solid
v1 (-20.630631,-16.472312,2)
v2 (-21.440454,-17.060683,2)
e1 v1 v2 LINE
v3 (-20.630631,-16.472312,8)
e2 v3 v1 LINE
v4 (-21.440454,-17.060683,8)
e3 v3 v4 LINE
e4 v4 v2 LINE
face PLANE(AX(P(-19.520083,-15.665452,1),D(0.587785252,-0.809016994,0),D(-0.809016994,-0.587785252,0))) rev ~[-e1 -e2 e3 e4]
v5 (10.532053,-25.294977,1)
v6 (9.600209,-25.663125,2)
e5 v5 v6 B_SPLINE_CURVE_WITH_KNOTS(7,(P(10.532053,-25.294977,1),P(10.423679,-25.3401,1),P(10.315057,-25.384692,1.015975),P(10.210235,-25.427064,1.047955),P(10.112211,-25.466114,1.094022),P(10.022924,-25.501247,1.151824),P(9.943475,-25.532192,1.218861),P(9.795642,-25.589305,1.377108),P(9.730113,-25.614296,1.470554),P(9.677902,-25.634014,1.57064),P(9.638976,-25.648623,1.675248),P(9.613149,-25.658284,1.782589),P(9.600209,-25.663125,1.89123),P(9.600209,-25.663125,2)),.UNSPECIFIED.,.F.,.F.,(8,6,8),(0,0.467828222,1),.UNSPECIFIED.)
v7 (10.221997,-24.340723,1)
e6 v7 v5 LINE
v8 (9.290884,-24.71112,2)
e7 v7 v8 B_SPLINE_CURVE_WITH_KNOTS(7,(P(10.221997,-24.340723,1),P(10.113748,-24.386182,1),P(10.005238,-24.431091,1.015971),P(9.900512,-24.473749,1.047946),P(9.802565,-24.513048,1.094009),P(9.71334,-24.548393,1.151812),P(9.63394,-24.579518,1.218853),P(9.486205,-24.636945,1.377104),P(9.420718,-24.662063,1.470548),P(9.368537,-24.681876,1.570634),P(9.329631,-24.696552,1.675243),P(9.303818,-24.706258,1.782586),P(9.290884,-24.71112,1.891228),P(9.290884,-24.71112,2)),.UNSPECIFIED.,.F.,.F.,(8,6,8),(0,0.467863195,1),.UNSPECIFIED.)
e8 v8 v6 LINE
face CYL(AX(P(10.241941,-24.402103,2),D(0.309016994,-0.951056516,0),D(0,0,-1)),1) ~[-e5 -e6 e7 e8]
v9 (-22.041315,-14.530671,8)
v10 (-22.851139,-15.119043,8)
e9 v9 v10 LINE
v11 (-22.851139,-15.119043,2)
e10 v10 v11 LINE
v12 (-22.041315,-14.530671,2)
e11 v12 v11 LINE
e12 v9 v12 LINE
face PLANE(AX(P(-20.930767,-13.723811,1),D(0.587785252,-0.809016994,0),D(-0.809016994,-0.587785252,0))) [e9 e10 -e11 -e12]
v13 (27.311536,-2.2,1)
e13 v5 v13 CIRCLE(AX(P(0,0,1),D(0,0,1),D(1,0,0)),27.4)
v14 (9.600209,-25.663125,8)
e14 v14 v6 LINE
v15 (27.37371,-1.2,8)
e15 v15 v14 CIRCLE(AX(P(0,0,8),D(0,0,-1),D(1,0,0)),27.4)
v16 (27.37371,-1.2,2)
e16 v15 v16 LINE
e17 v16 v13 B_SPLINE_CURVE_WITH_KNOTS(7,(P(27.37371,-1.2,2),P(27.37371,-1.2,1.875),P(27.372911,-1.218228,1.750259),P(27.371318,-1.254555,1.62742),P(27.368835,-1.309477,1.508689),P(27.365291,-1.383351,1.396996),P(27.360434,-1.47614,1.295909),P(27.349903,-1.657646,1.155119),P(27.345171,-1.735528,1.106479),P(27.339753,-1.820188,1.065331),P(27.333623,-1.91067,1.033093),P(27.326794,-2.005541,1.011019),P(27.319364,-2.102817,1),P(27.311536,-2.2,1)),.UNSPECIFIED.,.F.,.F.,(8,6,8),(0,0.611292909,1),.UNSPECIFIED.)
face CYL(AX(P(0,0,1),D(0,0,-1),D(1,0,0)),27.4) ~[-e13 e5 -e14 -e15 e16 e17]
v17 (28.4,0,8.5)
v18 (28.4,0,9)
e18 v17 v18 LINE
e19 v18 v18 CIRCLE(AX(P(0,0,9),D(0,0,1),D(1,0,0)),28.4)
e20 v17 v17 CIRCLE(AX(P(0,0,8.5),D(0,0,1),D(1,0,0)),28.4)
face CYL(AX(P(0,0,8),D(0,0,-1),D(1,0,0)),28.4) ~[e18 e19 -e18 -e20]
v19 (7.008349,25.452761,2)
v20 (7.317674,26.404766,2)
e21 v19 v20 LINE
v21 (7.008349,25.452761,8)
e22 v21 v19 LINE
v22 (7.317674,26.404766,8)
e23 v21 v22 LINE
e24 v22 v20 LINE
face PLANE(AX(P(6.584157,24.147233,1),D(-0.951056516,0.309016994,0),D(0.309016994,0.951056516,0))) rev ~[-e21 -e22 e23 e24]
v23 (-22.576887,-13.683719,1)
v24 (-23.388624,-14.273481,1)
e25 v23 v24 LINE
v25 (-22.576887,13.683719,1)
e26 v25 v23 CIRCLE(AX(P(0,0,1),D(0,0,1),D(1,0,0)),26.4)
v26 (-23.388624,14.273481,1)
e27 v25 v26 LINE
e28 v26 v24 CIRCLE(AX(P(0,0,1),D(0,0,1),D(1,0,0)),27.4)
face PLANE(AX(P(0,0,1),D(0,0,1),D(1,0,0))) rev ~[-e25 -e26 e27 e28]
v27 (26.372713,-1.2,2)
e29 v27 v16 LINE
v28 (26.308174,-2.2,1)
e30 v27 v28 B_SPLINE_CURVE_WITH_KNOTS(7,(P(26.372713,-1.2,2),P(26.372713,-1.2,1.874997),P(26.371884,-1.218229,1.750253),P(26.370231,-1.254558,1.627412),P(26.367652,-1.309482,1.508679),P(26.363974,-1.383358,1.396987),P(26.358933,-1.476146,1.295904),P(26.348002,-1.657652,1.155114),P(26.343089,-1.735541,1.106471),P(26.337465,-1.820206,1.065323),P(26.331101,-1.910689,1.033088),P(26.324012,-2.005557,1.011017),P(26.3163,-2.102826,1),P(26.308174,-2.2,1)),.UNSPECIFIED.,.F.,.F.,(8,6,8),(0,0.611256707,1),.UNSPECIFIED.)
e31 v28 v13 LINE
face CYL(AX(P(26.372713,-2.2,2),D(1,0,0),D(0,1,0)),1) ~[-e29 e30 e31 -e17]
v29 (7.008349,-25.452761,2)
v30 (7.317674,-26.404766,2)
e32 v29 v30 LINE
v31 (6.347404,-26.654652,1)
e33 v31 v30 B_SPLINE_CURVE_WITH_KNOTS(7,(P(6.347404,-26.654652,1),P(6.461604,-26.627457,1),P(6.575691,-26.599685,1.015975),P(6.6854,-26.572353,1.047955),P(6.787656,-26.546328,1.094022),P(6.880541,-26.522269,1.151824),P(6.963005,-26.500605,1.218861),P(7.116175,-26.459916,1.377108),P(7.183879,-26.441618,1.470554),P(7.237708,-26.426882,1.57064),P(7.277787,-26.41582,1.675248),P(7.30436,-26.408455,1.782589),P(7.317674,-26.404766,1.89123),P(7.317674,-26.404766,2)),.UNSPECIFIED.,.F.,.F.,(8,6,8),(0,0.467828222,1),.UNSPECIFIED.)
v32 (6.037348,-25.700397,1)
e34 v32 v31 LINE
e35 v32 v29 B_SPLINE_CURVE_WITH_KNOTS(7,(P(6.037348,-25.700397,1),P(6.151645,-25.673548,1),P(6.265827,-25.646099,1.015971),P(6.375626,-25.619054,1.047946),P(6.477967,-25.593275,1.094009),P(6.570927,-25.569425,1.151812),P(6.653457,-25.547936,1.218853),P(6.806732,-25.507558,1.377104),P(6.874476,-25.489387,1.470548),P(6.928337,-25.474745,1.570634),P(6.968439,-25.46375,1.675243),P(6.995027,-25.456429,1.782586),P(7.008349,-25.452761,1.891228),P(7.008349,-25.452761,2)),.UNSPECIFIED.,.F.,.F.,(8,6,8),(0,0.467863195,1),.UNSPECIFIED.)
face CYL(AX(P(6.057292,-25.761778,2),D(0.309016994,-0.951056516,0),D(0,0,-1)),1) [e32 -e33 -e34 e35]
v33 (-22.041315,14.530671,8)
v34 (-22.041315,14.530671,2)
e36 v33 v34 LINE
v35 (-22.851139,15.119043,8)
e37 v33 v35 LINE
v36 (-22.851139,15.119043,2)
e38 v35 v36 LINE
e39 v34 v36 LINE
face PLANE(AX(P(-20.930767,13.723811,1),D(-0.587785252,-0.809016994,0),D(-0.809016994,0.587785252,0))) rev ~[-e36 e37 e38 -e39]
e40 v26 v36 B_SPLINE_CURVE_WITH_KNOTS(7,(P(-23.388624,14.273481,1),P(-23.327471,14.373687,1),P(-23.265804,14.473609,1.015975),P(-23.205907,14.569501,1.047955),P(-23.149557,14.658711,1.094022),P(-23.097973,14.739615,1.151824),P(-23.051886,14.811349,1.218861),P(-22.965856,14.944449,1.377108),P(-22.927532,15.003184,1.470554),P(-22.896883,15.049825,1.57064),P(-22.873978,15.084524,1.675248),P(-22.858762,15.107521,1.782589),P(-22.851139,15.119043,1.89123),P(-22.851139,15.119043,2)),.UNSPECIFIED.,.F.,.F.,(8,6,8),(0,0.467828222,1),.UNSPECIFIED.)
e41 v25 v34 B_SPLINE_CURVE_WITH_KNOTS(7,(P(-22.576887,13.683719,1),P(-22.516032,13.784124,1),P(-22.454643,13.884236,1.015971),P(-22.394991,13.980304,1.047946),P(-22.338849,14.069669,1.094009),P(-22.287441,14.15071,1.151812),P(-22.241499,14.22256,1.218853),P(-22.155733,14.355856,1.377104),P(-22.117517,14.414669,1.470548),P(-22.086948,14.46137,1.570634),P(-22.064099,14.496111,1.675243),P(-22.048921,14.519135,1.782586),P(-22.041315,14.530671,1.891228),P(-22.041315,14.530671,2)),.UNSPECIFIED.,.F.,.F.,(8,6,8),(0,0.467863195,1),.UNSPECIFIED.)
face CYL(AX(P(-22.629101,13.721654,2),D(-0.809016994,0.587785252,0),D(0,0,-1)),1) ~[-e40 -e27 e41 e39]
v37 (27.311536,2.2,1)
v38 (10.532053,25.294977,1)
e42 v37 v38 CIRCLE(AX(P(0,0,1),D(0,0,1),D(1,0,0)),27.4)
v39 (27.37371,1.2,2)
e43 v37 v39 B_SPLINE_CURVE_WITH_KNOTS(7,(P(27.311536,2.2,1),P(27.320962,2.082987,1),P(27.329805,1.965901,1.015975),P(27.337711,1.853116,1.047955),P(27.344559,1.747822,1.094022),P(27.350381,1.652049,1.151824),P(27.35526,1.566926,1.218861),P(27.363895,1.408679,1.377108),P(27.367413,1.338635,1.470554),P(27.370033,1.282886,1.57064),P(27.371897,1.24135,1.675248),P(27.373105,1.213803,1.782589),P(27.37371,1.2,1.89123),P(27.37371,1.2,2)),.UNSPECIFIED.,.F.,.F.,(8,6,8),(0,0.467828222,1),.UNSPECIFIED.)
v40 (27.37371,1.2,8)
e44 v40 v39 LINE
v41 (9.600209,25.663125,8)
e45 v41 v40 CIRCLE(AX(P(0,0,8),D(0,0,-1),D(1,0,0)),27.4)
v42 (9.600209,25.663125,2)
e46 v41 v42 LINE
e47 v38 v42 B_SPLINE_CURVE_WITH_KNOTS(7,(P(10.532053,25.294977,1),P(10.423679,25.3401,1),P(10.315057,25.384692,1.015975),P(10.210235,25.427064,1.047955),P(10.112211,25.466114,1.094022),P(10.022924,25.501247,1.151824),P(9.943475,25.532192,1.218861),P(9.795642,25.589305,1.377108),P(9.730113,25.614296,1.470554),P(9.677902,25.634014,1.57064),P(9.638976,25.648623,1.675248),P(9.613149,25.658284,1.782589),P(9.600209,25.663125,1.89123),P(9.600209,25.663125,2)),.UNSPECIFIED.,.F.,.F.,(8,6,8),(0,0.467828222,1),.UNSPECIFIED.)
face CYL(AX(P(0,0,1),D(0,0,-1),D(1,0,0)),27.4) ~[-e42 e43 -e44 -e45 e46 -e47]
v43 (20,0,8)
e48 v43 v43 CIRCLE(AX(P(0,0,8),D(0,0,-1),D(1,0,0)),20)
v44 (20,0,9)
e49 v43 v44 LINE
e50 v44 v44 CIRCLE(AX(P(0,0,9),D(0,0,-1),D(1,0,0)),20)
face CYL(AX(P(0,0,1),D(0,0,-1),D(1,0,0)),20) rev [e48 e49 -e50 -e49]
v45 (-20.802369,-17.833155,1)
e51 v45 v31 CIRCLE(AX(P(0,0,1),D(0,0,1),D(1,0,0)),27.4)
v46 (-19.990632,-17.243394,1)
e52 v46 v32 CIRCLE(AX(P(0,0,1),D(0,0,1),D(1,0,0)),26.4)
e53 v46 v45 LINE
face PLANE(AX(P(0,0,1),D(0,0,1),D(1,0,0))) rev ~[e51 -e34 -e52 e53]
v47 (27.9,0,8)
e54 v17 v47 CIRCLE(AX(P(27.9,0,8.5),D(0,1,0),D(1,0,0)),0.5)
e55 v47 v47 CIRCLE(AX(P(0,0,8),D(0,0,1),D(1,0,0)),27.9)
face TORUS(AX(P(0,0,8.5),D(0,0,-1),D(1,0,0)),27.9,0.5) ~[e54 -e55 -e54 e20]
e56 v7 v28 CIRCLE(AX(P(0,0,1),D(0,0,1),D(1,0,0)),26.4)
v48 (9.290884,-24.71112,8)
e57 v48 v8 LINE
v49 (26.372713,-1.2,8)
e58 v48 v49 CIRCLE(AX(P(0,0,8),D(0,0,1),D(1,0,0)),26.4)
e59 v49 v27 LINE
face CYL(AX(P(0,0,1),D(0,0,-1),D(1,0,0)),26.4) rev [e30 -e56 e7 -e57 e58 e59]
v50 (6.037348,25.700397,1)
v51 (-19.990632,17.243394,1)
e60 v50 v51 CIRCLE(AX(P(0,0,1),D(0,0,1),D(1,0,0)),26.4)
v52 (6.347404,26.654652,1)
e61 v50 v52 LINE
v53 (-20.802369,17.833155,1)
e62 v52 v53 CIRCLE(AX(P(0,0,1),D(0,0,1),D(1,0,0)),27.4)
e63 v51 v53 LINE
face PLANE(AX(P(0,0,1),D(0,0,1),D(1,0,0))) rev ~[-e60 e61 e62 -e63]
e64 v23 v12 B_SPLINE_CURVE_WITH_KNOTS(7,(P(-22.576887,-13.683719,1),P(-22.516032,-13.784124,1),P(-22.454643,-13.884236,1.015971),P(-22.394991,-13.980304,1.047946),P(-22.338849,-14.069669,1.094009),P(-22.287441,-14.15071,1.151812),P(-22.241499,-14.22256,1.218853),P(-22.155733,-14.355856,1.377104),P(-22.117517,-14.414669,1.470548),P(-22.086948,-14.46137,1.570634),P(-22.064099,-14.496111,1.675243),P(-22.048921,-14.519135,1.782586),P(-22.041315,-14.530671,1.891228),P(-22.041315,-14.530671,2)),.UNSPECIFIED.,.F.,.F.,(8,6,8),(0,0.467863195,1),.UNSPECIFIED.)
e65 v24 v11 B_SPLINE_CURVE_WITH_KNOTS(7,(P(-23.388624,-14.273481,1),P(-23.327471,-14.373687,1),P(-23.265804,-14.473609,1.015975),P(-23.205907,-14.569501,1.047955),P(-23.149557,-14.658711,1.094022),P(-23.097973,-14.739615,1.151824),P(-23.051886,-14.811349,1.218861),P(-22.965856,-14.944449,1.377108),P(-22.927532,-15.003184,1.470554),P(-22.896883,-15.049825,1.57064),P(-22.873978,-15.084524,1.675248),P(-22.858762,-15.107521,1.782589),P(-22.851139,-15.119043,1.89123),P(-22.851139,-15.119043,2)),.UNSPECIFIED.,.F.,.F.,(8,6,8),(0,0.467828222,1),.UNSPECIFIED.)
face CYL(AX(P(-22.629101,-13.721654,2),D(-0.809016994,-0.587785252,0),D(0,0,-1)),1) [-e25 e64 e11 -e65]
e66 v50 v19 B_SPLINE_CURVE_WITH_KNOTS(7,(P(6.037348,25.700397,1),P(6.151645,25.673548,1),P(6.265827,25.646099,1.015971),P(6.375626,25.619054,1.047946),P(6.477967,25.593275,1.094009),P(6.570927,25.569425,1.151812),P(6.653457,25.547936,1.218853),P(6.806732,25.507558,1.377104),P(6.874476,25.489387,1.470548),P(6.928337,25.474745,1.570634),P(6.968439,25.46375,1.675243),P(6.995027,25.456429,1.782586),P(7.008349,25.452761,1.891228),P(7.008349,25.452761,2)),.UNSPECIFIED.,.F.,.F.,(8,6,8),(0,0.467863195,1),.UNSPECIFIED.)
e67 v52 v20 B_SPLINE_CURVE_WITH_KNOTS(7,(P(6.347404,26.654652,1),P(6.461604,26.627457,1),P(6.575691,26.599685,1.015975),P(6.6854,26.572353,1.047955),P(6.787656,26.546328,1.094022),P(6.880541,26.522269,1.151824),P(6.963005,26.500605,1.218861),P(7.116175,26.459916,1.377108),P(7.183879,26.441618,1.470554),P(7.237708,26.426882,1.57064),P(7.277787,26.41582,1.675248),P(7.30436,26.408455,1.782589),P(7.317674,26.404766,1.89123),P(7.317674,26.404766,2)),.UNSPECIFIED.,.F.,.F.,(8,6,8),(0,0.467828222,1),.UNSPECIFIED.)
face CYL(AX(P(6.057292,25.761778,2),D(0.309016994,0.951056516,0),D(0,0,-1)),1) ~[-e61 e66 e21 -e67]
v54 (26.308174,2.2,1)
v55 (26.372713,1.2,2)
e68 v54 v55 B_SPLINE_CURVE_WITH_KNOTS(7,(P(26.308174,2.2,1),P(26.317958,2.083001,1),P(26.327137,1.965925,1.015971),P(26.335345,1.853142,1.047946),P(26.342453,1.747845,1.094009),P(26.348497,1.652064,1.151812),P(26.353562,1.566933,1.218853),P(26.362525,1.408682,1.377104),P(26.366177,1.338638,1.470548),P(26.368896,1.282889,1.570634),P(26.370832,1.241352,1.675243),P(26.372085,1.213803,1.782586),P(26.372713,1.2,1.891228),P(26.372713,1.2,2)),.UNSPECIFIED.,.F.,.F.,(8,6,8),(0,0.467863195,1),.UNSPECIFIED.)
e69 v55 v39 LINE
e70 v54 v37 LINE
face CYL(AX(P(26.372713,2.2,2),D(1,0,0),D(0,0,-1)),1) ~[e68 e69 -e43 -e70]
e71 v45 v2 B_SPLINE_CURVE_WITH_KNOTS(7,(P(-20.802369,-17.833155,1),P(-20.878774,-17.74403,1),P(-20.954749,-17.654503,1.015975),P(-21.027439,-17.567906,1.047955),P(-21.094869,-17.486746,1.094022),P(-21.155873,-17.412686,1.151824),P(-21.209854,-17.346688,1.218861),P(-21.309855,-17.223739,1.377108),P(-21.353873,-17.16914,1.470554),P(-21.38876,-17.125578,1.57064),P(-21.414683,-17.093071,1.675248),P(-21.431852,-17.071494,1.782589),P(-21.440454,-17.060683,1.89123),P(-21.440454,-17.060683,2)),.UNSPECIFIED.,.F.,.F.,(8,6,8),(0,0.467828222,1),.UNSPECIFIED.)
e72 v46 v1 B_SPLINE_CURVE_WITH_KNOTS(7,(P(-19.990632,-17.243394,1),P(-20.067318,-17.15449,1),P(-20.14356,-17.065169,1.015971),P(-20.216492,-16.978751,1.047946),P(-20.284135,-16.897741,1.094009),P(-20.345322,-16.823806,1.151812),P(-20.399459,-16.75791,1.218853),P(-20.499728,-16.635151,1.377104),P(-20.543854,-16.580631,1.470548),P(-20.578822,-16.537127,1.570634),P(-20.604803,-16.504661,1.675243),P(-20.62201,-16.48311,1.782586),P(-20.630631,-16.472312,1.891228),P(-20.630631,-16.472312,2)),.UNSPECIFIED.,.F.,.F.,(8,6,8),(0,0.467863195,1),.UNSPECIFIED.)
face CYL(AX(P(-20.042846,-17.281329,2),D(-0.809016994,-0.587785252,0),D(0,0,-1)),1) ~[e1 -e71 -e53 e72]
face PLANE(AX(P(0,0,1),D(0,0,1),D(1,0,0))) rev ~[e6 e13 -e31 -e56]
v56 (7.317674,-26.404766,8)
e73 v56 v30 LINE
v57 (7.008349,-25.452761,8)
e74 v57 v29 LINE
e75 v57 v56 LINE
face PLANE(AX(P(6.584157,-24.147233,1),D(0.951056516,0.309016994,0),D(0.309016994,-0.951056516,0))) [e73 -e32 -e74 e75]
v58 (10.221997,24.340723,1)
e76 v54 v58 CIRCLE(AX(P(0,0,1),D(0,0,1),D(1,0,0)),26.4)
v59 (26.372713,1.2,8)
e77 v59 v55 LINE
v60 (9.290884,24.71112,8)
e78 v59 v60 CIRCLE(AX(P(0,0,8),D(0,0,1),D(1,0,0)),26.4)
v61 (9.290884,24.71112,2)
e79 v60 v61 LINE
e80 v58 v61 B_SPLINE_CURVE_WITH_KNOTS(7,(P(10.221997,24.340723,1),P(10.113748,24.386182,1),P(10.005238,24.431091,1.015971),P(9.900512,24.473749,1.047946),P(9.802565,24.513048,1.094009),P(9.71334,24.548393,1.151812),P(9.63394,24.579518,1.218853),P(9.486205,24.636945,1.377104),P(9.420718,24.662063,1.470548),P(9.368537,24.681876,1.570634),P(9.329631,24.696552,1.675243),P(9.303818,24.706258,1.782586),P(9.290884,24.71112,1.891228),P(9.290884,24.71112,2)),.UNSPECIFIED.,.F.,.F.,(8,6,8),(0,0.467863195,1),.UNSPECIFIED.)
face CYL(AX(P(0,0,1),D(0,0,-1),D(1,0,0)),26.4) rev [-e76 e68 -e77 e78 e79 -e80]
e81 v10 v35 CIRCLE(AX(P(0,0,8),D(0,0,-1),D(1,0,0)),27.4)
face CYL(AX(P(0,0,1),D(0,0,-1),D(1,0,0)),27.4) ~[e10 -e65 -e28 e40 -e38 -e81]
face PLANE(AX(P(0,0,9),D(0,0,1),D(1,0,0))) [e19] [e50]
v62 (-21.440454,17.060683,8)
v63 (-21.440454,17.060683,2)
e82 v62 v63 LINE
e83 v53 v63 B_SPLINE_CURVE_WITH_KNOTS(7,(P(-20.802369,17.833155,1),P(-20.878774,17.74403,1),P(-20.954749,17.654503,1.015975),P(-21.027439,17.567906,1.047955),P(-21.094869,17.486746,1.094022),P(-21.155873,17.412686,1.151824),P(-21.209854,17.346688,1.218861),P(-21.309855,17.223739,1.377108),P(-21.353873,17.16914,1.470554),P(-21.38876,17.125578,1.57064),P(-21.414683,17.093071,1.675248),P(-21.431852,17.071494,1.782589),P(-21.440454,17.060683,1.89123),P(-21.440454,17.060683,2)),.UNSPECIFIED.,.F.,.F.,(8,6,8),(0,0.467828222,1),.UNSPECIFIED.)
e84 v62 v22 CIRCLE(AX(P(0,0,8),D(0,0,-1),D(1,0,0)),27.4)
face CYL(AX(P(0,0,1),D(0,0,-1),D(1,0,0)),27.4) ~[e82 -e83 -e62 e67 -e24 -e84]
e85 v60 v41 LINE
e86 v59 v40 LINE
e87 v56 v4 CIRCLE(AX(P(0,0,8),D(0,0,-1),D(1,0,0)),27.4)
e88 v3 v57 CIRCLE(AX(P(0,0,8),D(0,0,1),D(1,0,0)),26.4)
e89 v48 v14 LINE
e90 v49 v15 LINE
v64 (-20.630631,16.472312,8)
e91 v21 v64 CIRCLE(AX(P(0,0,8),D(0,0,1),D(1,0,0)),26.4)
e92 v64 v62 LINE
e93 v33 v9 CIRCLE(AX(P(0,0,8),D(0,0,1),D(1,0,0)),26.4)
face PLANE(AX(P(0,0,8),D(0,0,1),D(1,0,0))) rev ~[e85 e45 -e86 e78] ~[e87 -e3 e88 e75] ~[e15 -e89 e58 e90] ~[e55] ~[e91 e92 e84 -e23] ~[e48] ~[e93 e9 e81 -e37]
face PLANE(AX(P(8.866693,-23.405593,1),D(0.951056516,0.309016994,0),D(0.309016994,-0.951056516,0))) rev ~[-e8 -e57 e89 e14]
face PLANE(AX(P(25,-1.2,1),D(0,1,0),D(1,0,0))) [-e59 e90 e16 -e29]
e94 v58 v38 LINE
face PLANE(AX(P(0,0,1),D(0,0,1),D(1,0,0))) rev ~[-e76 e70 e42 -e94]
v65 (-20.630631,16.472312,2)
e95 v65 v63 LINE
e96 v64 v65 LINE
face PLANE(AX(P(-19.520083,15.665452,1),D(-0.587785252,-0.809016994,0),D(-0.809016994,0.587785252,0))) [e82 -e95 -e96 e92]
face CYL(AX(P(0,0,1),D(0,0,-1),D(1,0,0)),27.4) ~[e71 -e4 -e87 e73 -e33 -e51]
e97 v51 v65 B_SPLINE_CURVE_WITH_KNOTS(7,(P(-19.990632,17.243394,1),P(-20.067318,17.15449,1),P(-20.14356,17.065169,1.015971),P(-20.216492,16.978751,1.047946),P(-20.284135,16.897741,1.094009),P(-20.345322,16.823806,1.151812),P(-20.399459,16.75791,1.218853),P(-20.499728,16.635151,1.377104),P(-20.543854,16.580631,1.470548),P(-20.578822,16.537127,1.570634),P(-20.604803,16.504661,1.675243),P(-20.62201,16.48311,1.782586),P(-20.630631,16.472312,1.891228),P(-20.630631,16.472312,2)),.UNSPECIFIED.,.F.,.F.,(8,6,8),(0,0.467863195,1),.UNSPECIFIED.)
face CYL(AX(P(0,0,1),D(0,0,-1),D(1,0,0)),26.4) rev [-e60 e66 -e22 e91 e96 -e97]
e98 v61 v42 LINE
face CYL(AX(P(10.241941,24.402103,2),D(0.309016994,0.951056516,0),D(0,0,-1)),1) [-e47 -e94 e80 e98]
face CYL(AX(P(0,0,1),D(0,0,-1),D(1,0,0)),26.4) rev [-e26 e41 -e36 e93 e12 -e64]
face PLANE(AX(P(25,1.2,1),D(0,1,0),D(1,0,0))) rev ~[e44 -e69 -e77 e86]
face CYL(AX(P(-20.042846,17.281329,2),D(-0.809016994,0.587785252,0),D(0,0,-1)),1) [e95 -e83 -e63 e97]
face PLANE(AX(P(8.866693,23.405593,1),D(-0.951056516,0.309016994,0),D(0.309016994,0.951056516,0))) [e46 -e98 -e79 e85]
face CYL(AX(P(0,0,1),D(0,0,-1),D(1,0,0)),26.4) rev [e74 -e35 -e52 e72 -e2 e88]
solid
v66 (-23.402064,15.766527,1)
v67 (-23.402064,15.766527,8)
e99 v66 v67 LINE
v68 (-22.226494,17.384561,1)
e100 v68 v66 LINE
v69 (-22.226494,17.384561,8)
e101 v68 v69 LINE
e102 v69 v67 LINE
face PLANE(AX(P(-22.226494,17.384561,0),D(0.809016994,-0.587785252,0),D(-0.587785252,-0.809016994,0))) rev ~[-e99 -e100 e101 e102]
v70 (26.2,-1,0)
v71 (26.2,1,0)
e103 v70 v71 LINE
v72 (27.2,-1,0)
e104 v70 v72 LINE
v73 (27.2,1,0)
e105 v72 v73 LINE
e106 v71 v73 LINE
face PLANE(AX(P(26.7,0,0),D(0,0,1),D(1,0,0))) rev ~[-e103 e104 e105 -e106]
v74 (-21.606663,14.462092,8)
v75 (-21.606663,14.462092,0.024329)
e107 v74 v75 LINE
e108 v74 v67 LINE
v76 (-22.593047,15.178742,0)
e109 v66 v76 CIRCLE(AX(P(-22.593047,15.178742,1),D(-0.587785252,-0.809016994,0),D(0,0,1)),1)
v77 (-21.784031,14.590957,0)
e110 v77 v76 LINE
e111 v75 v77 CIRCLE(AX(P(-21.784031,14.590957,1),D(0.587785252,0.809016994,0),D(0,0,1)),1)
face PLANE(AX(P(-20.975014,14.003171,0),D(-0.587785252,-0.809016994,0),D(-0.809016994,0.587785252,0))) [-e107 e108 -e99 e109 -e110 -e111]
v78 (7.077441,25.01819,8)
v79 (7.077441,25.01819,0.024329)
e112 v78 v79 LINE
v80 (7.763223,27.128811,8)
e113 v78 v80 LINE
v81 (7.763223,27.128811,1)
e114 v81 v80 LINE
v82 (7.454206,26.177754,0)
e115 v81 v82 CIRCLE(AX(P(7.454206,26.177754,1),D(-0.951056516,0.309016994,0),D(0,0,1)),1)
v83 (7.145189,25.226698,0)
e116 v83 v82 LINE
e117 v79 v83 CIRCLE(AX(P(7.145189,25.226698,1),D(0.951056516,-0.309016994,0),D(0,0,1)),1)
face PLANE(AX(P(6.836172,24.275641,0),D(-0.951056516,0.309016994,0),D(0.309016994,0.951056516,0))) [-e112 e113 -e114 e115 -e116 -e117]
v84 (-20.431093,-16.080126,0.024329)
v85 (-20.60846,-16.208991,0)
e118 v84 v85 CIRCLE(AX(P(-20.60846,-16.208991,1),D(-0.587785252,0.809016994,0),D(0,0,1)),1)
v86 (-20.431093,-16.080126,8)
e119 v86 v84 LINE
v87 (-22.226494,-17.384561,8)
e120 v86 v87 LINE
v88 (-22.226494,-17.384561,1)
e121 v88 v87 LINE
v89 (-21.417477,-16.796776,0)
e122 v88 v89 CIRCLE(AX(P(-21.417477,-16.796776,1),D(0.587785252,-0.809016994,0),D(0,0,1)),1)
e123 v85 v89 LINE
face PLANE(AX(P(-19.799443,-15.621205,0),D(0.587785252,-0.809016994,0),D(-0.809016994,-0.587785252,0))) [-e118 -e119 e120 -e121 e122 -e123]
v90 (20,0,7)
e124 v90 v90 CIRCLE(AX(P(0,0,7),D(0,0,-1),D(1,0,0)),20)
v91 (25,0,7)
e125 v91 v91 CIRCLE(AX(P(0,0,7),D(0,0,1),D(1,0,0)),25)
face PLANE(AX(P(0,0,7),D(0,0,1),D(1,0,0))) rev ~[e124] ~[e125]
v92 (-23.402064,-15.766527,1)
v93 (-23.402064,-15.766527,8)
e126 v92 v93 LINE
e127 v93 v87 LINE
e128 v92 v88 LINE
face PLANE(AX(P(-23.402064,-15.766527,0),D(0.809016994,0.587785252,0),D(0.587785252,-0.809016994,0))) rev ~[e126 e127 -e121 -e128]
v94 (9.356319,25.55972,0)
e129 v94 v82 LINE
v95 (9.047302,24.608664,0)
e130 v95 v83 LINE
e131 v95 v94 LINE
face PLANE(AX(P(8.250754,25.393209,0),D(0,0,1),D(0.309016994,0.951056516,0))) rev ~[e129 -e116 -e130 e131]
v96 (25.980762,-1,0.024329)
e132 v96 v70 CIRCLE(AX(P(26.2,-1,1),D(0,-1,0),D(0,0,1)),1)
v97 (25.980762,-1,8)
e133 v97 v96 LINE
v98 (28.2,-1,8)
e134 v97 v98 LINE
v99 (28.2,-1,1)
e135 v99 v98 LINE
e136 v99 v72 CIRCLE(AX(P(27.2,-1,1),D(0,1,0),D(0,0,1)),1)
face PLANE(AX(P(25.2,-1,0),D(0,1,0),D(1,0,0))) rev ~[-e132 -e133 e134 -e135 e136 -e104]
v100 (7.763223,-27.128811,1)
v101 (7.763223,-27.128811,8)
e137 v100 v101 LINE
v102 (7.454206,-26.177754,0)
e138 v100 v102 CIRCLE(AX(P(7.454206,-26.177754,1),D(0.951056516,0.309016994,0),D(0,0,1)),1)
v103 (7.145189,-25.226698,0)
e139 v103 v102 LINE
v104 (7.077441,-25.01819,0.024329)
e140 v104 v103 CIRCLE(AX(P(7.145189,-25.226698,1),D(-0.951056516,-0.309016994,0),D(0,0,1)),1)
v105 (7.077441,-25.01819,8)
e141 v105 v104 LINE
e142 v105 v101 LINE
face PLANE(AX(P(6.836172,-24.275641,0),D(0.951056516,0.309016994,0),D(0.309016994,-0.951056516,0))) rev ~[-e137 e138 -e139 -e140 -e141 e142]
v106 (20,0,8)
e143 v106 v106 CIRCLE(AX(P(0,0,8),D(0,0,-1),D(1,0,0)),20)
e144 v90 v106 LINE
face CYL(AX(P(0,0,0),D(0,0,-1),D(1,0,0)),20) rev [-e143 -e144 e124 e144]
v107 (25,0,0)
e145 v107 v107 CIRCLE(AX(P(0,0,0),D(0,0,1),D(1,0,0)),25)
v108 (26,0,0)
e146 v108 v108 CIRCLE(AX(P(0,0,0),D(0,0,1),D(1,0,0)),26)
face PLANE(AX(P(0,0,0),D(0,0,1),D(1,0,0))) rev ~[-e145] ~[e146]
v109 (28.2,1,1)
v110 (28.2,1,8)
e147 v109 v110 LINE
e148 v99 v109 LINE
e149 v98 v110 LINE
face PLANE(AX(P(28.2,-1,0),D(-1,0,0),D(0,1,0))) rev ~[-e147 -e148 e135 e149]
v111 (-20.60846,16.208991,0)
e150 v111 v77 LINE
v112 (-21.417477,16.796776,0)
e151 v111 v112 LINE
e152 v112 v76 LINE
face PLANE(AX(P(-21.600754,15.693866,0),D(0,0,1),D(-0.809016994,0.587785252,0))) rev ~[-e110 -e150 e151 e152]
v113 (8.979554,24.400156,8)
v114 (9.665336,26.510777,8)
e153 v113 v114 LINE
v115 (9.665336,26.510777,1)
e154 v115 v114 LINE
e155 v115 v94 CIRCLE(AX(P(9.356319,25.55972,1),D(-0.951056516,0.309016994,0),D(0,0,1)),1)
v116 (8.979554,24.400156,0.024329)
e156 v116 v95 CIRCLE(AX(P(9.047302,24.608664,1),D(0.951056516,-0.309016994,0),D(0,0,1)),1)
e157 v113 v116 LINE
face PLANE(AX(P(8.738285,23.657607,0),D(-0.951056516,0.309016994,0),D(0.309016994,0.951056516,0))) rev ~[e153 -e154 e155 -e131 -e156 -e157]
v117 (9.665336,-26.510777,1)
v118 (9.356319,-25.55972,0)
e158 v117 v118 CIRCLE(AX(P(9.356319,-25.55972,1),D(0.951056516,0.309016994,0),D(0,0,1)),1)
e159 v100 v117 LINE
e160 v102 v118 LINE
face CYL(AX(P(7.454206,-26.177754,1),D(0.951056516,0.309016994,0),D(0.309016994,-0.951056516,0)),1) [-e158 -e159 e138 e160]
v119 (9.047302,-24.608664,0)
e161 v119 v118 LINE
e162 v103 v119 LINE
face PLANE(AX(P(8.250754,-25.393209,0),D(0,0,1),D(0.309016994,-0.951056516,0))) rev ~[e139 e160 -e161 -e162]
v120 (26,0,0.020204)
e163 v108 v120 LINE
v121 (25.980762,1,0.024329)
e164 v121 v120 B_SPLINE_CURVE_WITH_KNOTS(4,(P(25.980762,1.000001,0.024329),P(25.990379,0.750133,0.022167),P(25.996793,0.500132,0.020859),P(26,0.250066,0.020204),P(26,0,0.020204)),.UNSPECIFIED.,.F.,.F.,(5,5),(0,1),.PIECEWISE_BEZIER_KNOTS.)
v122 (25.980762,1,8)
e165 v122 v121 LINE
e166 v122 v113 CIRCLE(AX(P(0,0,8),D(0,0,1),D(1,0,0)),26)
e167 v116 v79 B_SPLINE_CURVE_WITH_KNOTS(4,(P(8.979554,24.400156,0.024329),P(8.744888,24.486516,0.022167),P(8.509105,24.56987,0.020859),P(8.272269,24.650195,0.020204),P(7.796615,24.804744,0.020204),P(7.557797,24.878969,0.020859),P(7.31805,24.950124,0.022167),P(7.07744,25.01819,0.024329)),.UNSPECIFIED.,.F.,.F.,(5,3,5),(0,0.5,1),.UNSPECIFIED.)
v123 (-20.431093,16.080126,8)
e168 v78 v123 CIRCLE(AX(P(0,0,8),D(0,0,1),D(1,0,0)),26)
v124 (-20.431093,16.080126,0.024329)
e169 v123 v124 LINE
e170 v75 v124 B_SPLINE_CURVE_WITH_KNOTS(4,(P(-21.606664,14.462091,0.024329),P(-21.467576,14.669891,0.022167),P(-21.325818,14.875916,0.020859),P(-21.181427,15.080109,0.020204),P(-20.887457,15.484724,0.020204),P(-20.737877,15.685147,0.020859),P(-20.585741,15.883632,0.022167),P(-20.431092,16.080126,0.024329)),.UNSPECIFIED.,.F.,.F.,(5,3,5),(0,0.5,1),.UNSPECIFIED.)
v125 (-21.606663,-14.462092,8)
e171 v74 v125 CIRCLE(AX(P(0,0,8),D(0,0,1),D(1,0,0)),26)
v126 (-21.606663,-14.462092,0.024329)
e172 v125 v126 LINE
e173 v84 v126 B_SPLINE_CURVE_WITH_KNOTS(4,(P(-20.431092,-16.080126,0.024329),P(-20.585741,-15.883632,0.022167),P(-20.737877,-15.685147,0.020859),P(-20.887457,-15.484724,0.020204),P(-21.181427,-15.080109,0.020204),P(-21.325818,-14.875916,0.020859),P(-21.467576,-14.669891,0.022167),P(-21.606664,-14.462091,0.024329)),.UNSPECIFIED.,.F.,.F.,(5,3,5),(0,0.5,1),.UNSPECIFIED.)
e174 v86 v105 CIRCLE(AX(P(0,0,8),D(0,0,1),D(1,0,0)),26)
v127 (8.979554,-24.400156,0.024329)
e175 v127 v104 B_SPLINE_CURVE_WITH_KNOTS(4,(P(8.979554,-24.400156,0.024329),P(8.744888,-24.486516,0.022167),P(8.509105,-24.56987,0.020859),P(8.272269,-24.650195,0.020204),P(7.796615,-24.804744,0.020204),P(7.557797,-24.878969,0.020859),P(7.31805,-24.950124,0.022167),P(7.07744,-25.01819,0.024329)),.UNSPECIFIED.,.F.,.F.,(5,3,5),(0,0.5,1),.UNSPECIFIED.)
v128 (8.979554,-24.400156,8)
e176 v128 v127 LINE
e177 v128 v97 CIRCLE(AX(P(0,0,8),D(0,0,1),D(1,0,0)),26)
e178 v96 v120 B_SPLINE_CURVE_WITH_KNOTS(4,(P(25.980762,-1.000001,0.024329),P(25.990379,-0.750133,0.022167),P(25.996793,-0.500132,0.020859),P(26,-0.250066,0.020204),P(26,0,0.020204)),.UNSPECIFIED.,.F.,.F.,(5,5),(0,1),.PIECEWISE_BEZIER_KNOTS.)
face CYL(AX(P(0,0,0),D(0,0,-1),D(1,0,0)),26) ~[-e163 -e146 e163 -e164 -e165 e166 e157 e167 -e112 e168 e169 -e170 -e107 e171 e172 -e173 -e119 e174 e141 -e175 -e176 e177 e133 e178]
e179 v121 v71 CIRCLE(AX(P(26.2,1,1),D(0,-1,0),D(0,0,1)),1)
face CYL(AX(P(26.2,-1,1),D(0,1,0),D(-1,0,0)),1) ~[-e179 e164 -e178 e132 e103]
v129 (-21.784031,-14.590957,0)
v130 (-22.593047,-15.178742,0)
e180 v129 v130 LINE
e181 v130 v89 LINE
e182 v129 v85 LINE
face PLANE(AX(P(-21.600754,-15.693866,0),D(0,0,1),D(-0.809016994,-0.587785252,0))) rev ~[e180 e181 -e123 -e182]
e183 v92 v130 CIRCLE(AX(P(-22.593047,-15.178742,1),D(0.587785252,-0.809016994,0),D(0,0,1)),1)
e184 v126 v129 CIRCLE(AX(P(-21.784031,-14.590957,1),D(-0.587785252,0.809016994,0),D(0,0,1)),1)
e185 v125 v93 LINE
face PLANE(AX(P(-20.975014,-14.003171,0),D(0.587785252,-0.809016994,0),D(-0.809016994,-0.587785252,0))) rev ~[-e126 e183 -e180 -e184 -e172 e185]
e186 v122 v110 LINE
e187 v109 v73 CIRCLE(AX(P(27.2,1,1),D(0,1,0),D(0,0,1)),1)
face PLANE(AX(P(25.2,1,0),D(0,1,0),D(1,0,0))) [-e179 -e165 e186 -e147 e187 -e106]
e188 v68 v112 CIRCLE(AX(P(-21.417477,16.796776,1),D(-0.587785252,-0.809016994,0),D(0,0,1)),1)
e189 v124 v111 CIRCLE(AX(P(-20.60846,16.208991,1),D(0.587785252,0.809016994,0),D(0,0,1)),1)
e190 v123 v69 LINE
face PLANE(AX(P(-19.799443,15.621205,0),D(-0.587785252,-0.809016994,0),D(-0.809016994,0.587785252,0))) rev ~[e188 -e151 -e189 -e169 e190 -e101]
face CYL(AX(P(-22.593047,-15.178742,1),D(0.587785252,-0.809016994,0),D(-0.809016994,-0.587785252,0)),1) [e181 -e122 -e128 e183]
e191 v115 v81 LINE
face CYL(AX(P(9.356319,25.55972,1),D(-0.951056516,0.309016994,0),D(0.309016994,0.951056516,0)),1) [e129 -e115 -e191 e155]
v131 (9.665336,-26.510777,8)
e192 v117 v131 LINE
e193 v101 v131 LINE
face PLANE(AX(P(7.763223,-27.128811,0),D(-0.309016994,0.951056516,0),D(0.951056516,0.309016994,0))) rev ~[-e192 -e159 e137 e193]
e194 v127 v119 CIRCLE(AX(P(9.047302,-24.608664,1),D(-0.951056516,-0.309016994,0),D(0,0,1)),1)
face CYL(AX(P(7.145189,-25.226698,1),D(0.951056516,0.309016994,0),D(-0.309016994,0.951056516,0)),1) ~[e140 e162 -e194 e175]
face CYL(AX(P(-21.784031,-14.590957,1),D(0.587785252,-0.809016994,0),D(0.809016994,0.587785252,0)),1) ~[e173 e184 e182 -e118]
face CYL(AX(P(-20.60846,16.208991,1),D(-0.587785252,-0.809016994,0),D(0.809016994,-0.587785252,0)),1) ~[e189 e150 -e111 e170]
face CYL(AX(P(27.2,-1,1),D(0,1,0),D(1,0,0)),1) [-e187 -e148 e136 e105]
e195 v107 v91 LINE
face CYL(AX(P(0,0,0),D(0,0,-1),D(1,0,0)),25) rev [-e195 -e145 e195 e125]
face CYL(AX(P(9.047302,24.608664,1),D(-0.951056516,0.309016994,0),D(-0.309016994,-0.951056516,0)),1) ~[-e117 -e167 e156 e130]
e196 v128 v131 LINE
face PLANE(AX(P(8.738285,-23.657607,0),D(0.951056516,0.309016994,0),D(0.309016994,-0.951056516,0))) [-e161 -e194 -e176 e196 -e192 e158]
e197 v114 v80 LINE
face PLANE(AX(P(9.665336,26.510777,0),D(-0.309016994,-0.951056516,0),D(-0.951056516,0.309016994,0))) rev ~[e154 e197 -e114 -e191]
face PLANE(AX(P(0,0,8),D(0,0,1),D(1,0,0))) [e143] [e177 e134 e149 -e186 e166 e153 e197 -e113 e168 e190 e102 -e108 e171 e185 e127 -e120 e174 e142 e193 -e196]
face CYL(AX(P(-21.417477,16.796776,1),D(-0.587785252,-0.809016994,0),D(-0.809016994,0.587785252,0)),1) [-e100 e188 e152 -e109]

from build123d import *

# Parameters (mm, degrees)
CYLINDER002_R     = 20
CYLINDER002_DEPTH = 20
CYLINDER_R        = 25
CYLINDER_DEPTH    = 7
BOX_W             = 3
BOX_H             = 2
BOX_DEPTH         = 8
FILLET_R          = 1
ARRAY_COUNT       = 5
CYLINDER001_R     = 26
CYLINDER001_DEPTH = 8
CYLINDER005_R     = 20
CYLINDER005_DEPTH = 20
BOX001_W          = 5
BOX001_H          = 2.4
BOX001_DEPTH      = 7
ARRAY001_COUNT    = 5
CYLINDER003_R     = 26.4
CYLINDER003_DEPTH = 7
CYLINDER006_R     = 28.4
CYLINDER006_DEPTH = 1
FILLET001_R       = 0.5
CYLINDER004_R     = 27.4
CYLINDER004_DEPTH = 8
FILLET002_R       = 1


with BuildPart() as lens_hole:
    # Cylinder002 → Cylinder002 (new body)
    with BuildSketch(Plane.XY):
        Circle(CYLINDER002_R)
    extrude(amount=CYLINDER002_DEPTH)


with BuildPart() as extract_fusion:
    # Cylinder → Cylinder (new body)
    with BuildSketch(Plane.XY):
        Circle(CYLINDER_R)
    extrude(amount=CYLINDER_DEPTH)

    # Fusion: union lens hole
    add(lens_hole.part)


with BuildPart() as tick_array:
    # Box → Box (new body)
    with BuildSketch(Plane(origin=(25.2, -1, 0), x_dir=(1, 0, 0), z_dir=(0, 0, 1))):
        with Locations((1.5, 1)):
            Rectangle(BOX_W, BOX_H)
    extrude(amount=BOX_DEPTH)

    # Fillet
    fillet_edges = [tick_array.edges().sort_by_distance(p)[0] for p in [
        (25.2, 0, 0),
        (28.2, 0, 0),
    ]]
    fillet(fillet_edges, radius=FILLET_R)

    # Array: tick array ×5 about axis
    array_axis = Axis((0, 0, 0), (0, 0, 1))


with BuildPart() as tick_array_1:
    add(tick_array.part)
    for i in range(1, ARRAY_COUNT):
        add(tick_array.part.rotate(array_axis, i * 360 / ARRAY_COUNT))


with BuildPart() as border_cut:
    # Cylinder001 → Cylinder001 (new body)
    with BuildSketch(Plane.XY):
        Circle(CYLINDER001_R)
    extrude(amount=CYLINDER001_DEPTH)

    # Fusion002: union tick array
    add(tick_array_1.part)

    # Cut: cut extract fusion
    add(extract_fusion.part, mode=Mode.SUBTRACT)


with BuildPart() as lens_hole001:
    # Cylinder005 → Cylinder005 (new body)
    with BuildSketch(Plane.XY):
        Circle(CYLINDER005_R)
    extrude(amount=CYLINDER005_DEPTH)


with BuildPart() as tick_array001:
    # Box001 → Box001 (new body)
    with BuildSketch(Plane(origin=(25, -1.2, 0), x_dir=(1, 0, 0), z_dir=(0, 0, 1))):
        with Locations((2.5, 1.2)):
            Rectangle(BOX001_W, BOX001_H)
    extrude(amount=BOX001_DEPTH)

    # Array001: tick array001 ×5 about axis
    array001_axis = Axis((0, 0, 0), (0, 0, 1))


with BuildPart() as tick_array001_1:
    add(tick_array001.part)
    for i in range(1, ARRAY001_COUNT):
        add(tick_array001.part.rotate(array001_axis, i * 360 / ARRAY001_COUNT))


with BuildPart() as extract_fusion001:
    # Cylinder003 → Cylinder003 (new body)
    with BuildSketch(Plane.XY):
        Circle(CYLINDER003_R)
    extrude(amount=CYLINDER003_DEPTH)

    # Fusion001: union lens hole001, tick array001
    add(lens_hole001.part)
    add(tick_array001_1.part)


with BuildPart() as disk_fillet:
    # Cylinder006 → Cylinder006 (new body)
    with BuildSketch(Plane.XY.offset(7)):
        Circle(CYLINDER006_R)
    extrude(amount=CYLINDER006_DEPTH)

    # Fillet001
    fillet001_edges = [disk_fillet.edges().sort_by_distance(p)[0] for p in [
        (-28.4, 0, 7),
    ]]
    fillet(fillet001_edges, radius=FILLET001_R)


with BuildPart() as cover_fillet:
    # Cylinder004 → Cylinder004 (new body)
    with BuildSketch(Plane.XY):
        Circle(CYLINDER004_R)
    extrude(amount=CYLINDER004_DEPTH)

    # Fusion003: union disk fillet
    add(disk_fillet.part)

    # Cut001: cut extract fusion001
    add(extract_fusion001.part, mode=Mode.SUBTRACT)


with BuildPart() as cover_fillet_1:
    # Cut001 placement: moved
    add(cover_fillet.part.moved(Location((0, 0, 1))))

    # Fillet002
    fillet002_edges = [cover_fillet_1.edges().sort_by_distance(p)[0] for p in [
        (26.873212, -1.2, 1),
        (9.445547, -25.187123, 1),
        (7.163011, -25.928763, 1),
        (-21.035543, -16.766498, 1),
        (-22.446227, -14.824857, 1),
        (-22.446227, 14.824857, 1),
        (-21.035543, 16.766498, 1),
        (7.163011, 25.928763, 1),
        (9.445547, 25.187123, 1),
        (26.873212, 1.2, 1),
    ]]
    fillet(fillet002_edges, radius=FILLET002_R)


solid = Compound([border_cut.part, cover_fillet_1.part])
